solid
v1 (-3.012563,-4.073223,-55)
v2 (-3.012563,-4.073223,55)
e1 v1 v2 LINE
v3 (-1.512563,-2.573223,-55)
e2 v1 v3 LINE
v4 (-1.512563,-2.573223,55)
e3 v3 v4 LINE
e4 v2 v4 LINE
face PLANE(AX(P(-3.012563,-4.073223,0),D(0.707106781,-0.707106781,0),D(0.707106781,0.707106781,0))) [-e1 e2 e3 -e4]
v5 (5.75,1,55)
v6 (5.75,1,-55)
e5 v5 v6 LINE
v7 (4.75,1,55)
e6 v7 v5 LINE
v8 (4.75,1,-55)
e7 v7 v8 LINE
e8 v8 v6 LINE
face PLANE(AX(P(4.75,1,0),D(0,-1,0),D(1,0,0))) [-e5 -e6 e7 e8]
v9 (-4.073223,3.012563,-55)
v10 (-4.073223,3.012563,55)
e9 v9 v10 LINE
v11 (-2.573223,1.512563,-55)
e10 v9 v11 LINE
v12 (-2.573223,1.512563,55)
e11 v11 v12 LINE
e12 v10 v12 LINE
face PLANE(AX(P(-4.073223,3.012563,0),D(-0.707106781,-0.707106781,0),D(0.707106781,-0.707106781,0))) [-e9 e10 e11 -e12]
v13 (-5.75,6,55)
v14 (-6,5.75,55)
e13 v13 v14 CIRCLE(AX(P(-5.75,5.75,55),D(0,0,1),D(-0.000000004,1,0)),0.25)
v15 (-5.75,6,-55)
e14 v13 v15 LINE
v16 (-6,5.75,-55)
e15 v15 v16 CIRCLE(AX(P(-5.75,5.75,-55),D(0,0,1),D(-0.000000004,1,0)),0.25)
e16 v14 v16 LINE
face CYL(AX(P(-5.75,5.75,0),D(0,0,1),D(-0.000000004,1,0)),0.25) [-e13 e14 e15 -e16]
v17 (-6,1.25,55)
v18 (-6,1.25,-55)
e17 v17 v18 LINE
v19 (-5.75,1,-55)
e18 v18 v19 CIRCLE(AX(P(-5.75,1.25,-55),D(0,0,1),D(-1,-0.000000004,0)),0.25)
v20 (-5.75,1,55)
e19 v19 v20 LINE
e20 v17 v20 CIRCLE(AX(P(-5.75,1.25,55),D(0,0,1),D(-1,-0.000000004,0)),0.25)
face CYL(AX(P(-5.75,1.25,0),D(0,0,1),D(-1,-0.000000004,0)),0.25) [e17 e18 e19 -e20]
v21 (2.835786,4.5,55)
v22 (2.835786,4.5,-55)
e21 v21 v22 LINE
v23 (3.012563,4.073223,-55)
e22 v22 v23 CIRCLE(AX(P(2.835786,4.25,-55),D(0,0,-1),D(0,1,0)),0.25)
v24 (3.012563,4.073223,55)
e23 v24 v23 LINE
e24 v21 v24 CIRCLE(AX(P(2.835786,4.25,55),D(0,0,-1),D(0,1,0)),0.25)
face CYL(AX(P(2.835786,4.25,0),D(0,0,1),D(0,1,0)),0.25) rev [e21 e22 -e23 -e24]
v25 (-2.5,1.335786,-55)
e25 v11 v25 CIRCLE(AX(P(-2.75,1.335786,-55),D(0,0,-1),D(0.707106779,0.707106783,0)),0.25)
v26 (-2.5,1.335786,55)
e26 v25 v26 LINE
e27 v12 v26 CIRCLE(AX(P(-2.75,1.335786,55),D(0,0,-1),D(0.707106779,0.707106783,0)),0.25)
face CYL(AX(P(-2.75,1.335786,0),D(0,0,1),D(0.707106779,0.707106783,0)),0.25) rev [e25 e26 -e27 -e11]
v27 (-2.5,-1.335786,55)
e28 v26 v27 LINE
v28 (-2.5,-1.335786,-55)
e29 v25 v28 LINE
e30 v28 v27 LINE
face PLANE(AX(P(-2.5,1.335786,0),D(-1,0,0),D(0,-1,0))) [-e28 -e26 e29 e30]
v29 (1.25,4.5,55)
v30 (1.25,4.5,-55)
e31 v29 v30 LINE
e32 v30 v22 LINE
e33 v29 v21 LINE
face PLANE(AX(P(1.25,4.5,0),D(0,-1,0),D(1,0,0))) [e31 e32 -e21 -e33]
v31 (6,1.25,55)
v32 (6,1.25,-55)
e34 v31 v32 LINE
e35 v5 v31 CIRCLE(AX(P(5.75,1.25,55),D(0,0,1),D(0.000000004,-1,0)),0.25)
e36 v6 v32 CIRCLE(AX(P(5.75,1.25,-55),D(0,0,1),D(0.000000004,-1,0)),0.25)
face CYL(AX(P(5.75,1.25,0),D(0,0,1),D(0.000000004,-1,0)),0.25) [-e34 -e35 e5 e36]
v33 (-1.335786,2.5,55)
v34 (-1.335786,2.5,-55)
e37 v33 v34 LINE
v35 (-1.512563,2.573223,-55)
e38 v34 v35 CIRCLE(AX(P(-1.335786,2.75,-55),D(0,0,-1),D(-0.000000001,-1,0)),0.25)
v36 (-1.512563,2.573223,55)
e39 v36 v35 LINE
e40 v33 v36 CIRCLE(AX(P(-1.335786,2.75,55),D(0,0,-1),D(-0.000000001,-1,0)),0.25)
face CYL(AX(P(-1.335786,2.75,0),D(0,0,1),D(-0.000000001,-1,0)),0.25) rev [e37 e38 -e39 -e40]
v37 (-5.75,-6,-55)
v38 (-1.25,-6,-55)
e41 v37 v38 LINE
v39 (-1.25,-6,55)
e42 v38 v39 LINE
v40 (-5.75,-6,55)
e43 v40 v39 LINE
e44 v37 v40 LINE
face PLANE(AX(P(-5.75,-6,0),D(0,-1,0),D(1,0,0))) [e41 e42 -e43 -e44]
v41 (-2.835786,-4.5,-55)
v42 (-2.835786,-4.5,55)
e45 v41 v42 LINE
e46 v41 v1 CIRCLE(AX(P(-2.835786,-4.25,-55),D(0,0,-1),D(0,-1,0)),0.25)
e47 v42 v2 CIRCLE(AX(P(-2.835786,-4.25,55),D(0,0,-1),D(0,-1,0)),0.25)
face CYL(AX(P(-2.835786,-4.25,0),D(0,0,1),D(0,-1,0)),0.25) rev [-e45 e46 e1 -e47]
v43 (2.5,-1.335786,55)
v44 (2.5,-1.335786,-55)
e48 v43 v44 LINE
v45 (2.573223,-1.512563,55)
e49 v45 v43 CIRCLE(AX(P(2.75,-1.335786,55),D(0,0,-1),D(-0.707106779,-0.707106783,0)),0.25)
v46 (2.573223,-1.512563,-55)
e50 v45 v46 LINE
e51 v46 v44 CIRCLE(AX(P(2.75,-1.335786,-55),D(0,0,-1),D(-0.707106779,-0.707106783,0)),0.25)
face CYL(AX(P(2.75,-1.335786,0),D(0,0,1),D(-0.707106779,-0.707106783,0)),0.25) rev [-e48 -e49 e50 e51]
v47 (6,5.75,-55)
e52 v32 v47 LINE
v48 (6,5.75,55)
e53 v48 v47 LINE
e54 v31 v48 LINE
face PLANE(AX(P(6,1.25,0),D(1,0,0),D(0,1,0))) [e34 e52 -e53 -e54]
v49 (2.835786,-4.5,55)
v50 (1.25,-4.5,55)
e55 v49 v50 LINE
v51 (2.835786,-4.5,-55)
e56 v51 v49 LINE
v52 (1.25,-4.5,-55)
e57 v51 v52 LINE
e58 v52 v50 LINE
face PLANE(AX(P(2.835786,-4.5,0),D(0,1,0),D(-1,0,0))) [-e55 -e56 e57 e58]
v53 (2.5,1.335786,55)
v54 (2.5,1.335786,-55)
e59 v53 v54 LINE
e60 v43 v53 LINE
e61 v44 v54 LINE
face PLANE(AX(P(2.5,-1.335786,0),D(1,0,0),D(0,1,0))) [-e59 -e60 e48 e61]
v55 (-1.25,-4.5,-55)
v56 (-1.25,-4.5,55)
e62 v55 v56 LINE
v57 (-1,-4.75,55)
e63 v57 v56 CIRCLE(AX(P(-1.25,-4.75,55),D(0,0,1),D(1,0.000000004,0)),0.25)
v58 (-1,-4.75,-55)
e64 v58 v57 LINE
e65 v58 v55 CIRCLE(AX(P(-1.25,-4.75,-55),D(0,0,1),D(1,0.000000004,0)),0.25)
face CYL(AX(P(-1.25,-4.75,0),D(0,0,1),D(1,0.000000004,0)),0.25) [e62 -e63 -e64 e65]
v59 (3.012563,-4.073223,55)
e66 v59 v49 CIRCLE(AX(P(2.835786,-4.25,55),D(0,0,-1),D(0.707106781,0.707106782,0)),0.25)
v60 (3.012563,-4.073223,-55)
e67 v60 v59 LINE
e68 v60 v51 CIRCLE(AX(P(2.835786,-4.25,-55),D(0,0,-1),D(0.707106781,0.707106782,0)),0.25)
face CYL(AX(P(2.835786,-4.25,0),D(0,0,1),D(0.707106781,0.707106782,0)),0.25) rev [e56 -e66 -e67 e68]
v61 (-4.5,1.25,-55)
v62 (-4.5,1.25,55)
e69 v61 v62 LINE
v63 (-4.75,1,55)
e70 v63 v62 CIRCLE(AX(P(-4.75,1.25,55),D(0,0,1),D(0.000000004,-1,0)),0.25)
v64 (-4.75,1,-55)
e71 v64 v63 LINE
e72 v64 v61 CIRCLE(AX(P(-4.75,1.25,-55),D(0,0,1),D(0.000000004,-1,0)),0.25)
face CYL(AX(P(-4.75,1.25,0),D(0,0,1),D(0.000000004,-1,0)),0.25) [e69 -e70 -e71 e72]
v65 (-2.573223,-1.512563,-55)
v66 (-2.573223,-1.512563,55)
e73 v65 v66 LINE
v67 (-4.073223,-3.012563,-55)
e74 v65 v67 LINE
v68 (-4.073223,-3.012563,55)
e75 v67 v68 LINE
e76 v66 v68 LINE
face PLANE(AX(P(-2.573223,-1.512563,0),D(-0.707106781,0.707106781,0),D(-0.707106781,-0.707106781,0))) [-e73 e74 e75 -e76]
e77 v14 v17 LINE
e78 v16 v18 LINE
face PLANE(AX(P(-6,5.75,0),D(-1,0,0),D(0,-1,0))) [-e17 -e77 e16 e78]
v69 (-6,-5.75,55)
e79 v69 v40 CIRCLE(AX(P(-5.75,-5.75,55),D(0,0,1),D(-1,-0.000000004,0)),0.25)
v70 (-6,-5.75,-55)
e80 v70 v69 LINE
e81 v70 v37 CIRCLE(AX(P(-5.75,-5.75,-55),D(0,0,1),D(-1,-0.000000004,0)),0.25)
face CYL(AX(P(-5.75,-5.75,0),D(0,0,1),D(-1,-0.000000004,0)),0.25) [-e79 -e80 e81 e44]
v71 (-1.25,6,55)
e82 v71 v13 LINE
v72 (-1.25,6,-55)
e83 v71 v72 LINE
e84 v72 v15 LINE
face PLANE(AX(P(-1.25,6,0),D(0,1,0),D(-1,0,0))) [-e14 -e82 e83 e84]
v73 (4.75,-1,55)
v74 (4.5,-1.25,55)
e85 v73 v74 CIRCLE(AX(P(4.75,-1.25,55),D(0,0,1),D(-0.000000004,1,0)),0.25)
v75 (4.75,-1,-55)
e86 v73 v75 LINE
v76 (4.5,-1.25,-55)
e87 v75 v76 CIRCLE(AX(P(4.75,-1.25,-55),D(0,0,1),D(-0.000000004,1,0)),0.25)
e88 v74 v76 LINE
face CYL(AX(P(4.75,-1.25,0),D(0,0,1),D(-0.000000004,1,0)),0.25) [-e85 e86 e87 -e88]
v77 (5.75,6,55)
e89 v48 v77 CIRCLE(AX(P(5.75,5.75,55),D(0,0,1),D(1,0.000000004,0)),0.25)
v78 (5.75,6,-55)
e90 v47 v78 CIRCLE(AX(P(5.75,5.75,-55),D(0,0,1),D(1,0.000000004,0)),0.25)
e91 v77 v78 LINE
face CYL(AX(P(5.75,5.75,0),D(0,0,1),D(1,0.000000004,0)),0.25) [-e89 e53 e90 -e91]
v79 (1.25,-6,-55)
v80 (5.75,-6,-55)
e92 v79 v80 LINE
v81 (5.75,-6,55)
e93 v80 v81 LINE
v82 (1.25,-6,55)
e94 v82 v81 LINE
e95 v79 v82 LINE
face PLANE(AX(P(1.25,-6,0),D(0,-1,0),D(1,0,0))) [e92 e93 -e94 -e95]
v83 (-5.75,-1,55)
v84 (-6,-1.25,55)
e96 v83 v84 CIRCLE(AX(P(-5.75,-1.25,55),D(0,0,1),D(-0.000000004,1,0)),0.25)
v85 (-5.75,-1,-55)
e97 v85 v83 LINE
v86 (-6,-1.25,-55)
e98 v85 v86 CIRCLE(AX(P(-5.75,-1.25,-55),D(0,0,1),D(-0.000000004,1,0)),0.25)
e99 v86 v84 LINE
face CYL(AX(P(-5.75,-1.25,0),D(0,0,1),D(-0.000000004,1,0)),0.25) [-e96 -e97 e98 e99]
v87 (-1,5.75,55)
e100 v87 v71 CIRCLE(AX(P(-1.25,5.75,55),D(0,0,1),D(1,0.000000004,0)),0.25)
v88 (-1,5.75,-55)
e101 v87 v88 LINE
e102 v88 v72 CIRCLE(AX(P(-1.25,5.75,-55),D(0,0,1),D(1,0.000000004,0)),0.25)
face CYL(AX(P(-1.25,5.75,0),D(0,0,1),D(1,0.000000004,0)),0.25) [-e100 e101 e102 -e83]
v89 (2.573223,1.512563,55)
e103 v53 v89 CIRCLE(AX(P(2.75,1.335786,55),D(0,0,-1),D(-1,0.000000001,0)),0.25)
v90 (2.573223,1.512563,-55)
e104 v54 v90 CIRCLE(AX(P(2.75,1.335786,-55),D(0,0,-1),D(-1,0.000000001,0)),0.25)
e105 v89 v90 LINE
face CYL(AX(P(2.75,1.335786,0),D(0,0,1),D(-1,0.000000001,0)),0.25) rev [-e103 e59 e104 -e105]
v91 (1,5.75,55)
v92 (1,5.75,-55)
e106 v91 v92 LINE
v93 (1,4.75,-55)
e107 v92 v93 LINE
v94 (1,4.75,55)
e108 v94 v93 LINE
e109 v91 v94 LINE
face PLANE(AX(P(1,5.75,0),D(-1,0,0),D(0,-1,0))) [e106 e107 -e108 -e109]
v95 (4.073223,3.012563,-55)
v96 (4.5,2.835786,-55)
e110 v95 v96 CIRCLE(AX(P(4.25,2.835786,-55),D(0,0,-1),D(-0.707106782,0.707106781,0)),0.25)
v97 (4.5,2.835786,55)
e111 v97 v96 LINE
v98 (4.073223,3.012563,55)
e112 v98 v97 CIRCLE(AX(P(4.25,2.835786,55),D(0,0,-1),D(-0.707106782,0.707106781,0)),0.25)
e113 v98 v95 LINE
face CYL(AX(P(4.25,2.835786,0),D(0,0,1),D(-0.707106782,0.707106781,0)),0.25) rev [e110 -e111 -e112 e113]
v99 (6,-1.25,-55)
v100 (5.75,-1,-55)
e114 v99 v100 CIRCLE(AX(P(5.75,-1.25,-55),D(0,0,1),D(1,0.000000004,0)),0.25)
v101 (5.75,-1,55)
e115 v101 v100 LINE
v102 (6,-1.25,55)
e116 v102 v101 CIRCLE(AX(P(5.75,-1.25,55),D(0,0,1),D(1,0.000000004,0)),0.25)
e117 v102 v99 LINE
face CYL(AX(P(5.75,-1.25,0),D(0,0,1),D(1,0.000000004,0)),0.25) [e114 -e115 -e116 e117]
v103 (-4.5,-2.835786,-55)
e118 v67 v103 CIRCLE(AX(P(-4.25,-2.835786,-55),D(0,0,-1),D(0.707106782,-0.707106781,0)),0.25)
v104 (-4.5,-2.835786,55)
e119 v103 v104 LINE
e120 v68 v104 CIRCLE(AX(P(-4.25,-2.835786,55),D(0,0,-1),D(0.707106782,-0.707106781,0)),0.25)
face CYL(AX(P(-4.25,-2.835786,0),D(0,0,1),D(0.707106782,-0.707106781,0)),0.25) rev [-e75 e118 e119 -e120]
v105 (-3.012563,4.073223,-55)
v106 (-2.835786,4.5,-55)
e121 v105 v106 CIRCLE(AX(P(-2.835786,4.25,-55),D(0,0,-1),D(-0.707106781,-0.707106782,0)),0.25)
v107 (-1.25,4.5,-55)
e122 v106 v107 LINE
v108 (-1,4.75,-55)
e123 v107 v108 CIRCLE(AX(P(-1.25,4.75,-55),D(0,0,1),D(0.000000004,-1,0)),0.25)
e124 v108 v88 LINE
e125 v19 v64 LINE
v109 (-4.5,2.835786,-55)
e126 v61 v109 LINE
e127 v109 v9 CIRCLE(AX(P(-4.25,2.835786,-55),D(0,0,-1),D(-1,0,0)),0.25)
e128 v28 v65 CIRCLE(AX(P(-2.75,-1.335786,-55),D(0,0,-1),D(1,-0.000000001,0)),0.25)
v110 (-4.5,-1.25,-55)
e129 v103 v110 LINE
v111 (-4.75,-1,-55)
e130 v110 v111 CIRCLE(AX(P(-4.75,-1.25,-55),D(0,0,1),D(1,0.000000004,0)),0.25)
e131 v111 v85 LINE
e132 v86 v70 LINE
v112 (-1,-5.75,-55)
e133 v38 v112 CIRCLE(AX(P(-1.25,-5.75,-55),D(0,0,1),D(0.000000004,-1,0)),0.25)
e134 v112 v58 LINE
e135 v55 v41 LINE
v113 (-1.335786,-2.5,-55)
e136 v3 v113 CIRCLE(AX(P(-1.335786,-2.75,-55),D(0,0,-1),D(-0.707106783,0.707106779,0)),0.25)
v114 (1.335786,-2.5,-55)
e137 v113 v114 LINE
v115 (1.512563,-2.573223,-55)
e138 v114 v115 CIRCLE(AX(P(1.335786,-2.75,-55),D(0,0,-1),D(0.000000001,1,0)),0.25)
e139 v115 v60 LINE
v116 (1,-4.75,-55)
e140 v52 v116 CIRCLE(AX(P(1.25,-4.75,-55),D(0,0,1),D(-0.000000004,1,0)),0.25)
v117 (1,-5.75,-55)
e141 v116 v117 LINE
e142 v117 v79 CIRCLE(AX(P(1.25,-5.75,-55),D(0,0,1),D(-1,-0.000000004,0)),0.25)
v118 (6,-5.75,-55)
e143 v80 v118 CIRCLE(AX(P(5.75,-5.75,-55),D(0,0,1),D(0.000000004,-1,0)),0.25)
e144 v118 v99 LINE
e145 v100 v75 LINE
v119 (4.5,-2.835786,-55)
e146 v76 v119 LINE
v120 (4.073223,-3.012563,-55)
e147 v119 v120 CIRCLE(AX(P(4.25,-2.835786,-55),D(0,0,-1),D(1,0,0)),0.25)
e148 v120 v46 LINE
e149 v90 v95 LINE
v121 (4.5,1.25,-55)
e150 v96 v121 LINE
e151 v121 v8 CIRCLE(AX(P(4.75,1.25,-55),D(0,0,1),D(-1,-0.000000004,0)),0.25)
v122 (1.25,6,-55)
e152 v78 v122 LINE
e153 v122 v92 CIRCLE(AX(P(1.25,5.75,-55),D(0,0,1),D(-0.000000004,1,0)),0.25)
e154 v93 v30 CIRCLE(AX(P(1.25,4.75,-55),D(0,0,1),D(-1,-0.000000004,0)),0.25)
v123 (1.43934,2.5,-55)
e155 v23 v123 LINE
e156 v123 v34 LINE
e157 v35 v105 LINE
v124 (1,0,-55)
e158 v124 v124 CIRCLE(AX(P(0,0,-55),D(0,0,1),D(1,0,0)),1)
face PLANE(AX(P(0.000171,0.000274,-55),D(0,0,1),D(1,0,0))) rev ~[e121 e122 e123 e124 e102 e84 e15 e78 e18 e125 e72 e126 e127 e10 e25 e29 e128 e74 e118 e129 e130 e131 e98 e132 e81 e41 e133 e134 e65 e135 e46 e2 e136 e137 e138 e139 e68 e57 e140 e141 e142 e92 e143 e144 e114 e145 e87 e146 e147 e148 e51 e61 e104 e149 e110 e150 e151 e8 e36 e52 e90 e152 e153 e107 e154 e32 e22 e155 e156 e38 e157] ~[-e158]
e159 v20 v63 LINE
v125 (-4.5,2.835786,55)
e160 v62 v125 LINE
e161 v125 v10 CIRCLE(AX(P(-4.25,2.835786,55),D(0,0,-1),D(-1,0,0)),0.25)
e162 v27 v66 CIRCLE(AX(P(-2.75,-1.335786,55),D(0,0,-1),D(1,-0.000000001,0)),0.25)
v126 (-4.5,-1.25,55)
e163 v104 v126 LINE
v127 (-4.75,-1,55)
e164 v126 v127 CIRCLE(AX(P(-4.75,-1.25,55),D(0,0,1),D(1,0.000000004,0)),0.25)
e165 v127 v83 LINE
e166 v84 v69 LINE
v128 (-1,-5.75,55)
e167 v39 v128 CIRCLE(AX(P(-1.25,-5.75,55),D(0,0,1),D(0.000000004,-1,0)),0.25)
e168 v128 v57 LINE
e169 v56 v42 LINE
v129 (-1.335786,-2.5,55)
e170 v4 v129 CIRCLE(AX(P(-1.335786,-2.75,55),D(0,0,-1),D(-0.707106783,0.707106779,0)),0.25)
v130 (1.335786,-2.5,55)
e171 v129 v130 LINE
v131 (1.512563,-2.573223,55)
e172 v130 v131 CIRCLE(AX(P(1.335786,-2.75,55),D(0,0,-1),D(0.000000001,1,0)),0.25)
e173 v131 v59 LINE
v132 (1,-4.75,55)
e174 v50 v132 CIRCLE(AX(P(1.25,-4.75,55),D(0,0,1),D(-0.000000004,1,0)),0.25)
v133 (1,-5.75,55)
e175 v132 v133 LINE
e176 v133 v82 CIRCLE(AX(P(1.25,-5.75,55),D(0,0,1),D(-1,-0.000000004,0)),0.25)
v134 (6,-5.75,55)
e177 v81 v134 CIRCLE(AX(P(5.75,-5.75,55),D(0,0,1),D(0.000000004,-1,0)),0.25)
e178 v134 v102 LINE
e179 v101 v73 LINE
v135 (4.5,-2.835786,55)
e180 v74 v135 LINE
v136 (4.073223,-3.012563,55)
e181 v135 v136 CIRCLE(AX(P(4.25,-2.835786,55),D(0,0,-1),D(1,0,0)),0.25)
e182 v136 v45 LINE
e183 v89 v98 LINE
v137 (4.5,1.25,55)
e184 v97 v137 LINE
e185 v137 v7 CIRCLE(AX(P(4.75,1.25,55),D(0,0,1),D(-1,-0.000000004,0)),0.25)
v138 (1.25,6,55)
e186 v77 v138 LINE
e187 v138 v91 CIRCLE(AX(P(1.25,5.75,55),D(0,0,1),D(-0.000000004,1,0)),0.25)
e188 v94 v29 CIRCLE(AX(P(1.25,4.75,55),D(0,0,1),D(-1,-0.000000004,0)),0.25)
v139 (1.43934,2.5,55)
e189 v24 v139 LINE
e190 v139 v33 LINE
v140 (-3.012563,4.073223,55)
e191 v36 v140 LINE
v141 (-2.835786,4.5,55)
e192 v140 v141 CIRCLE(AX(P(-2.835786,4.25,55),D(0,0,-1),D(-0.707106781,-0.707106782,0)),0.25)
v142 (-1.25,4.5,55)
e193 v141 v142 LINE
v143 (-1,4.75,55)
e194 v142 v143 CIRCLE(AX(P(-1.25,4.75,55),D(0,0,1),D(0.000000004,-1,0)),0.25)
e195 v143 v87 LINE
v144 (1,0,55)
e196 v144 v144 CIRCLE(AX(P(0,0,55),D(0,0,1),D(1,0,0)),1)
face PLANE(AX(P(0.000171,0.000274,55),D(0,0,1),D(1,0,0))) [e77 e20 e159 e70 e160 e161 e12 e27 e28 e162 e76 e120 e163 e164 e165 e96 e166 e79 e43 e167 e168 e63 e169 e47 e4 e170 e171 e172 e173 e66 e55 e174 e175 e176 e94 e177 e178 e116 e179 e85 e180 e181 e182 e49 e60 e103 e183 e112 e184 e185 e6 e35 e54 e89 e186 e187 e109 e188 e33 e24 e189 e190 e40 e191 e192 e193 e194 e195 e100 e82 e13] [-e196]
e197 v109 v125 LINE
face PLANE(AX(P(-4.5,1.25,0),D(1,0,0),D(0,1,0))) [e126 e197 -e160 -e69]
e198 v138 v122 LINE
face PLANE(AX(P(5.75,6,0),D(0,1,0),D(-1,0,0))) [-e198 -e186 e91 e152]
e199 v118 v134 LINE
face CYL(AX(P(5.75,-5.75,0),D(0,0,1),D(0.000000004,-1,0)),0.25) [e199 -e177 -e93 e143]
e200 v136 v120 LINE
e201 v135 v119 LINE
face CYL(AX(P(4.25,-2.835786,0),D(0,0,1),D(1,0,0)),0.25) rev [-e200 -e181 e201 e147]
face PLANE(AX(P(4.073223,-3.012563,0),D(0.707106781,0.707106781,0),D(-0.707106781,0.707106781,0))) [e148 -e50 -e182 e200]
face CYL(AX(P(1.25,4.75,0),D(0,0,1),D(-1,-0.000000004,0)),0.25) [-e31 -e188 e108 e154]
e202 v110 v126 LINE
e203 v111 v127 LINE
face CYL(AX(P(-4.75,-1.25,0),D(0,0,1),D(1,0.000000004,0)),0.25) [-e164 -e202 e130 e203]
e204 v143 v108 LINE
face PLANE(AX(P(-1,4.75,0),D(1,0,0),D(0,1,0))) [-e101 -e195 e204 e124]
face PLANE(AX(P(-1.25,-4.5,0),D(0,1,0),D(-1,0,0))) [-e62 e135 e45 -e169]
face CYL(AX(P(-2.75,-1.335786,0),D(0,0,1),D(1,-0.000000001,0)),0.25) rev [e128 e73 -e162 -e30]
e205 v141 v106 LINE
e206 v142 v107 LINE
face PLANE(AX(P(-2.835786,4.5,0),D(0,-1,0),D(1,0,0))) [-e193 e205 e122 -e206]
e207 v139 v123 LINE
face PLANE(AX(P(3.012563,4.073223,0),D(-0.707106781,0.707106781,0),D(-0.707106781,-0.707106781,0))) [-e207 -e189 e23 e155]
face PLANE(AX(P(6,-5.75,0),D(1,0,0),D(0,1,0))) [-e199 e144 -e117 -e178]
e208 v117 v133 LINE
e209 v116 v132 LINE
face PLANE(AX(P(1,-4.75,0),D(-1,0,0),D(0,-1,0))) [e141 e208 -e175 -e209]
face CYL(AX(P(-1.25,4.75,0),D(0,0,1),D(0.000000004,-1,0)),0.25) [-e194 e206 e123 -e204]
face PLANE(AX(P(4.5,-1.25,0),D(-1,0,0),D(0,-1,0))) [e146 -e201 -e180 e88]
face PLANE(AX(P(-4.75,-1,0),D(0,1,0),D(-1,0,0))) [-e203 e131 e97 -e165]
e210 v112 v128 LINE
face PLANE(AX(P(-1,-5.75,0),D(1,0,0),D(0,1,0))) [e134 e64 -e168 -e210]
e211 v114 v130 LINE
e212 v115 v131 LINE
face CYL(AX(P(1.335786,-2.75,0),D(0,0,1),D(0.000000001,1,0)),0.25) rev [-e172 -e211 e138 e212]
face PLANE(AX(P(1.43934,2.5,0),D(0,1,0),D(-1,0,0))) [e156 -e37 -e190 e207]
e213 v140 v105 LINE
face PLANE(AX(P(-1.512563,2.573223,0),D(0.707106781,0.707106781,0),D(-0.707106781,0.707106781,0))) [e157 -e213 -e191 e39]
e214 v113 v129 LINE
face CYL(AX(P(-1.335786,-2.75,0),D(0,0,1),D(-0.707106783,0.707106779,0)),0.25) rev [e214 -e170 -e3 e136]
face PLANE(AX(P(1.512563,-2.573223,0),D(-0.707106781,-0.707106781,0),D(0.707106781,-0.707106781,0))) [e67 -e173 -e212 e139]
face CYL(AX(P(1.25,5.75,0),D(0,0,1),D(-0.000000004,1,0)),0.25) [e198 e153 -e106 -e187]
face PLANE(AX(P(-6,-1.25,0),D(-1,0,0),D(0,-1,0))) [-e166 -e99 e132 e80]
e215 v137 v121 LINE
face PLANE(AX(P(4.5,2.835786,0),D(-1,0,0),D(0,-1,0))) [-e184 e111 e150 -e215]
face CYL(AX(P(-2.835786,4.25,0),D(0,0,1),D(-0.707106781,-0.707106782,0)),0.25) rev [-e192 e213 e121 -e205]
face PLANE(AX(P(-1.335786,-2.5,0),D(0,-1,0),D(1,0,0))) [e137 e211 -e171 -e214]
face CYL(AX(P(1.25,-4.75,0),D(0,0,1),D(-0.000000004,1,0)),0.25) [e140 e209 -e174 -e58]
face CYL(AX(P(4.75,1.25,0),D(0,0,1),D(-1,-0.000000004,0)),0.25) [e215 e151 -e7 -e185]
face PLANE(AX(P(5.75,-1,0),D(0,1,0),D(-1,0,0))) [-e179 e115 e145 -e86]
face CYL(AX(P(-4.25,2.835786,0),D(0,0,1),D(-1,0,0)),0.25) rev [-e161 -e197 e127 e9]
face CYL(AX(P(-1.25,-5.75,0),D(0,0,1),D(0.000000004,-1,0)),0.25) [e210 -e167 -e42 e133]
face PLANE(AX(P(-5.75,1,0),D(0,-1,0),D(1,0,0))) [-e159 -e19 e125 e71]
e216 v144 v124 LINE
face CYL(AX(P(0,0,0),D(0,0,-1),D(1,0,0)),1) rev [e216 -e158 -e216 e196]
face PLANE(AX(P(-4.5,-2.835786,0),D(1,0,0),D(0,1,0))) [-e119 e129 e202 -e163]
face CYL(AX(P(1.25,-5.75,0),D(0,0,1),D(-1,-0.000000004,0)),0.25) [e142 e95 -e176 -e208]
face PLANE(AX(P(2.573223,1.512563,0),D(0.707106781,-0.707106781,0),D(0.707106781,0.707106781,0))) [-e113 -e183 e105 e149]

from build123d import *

# Parameters (mm, degrees)
SKETCH1_R           = 1
BOSS_EXTRUDE1_DEPTH = 55


with BuildPart() as part:
    # Sketch1 → Boss-Extrude1 (new body, symmetric)
    with BuildSketch(Plane.XY):
        with BuildLine():
            ThreePointArc((-6, 1.25), (-5.926776695, 1.073223305), (-5.75, 1))
            Line((-5.75, 1), (-4.75, 1))
            ThreePointArc((-4.75, 1), (-4.573223305, 1.073223305), (-4.5, 1.25))
            Line((-4.5, 1.25), (-4.5, 2.835786438))
            ThreePointArc((-4.5, 2.835786438), (-4.345670858, 3.066756321), (-4.073223305, 3.012563133))
            Line((-4.073223305, 3.012563133), (-2.573223305, 1.512563133))
            ThreePointArc((-2.573223305, 1.512563133), (-2.519030117, 1.431457296), (-2.5, 1.335786438))
            Line((-2.5, 1.335786438), (-2.5, -1.335786438))
            ThreePointArc((-2.5, -1.335786438), (-2.519030117, -1.431457296), (-2.573223305, -1.512563133))
            Line((-2.573223305, -1.512563133), (-4.073223305, -3.012563133))
            ThreePointArc((-4.073223305, -3.012563133), (-4.345670858, -3.066756321), (-4.5, -2.835786438))
            Line((-4.5, -2.835786438), (-4.5, -1.25))
            ThreePointArc((-4.5, -1.25), (-4.573223305, -1.073223305), (-4.75, -1))
            Line((-4.75, -1), (-5.75, -1))
            ThreePointArc((-5.75, -1), (-5.926776695, -1.073223305), (-6, -1.25))
            Line((-6, -1.25), (-6, -5.75))
            ThreePointArc((-6, -5.75), (-5.926776695, -5.926776695), (-5.75, -6))
            Line((-5.75, -6), (-1.25, -6))
            ThreePointArc((-1.25, -6), (-1.073223305, -5.926776695), (-1, -5.75))
            Line((-1, -5.75), (-1, -4.75))
            ThreePointArc((-1, -4.75), (-1.073223305, -4.573223305), (-1.25, -4.5))
            Line((-1.25, -4.5), (-2.835786438, -4.5))
            ThreePointArc((-2.835786438, -4.5), (-3.066756321, -4.345670858), (-3.012563133, -4.073223305))
            Line((-3.012563133, -4.073223305), (-1.512563133, -2.573223305))
            ThreePointArc((-1.512563133, -2.573223305), (-1.431457296, -2.519030117), (-1.335786438, -2.5))
            Line((-1.335786438, -2.5), (1.335786438, -2.5))
            ThreePointArc((1.335786438, -2.5), (1.431457296, -2.519030117), (1.512563133, -2.573223305))
            Line((1.512563133, -2.573223305), (3.012563133, -4.073223305))
            ThreePointArc((3.012563133, -4.073223305), (3.066756321, -4.345670858), (2.835786438, -4.5))
            Line((2.835786438, -4.5), (1.25, -4.5))
            ThreePointArc((1.25, -4.5), (1.073223305, -4.573223305), (1, -4.75))
            Line((1, -4.75), (1, -5.75))
            ThreePointArc((1, -5.75), (1.073223305, -5.926776695), (1.25, -6))
            Line((1.25, -6), (5.75, -6))
            ThreePointArc((5.75, -6), (5.926776695, -5.926776695), (6, -5.75))
            Line((6, -5.75), (6, -1.25))
            ThreePointArc((6, -1.25), (5.926776695, -1.073223305), (5.75, -1))
            Line((5.75, -1), (4.75, -1))
            ThreePointArc((4.75, -1), (4.573223305, -1.073223305), (4.5, -1.25))
            Line((4.5, -1.25), (4.5, -2.835786438))
            ThreePointArc((4.5, -2.835786438), (4.345670858, -3.066756321), (4.073223305, -3.012563133))
            Line((4.073223305, -3.012563133), (2.573223305, -1.512563133))
            ThreePointArc((2.573223305, -1.512563133), (2.519030117, -1.431457296), (2.5, -1.335786438))
            Line((2.5, -1.335786438), (2.5, 1.335786438))
            ThreePointArc((2.5, 1.335786438), (2.519030117, 1.431457296), (2.573223305, 1.512563133))
            Line((2.573223305, 1.512563133), (4.073223305, 3.012563133))
            ThreePointArc((4.073223305, 3.012563133), (4.345670858, 3.066756321), (4.5, 2.835786438))
            Line((4.5, 2.835786438), (4.5, 1.25))
            ThreePointArc((4.5, 1.25), (4.573223305, 1.073223305), (4.75, 1))
            Line((4.75, 1), (5.75, 1))
            ThreePointArc((5.75, 1), (5.926776695, 1.073223305), (6, 1.25))
            Line((6, 1.25), (6, 5.75))
            ThreePointArc((6, 5.75), (5.926776695, 5.926776695), (5.75, 6))
            Line((5.75, 6), (1.25, 6))
            ThreePointArc((1.25, 6), (1.073223305, 5.926776695), (1, 5.75))
            Line((1, 5.75), (1, 4.75))
            ThreePointArc((1, 4.75), (1.073223305, 4.573223305), (1.25, 4.5))
            Line((1.25, 4.5), (2.835786438, 4.5))
            ThreePointArc((2.835786438, 4.5), (3.066756321, 4.345670858), (3.012563133, 4.073223305))
            Line((3.012563133, 4.073223305), (1.439339828, 2.5))
            Line((1.439339828, 2.5), (-1.335786438, 2.5))
            ThreePointArc((-1.335786438, 2.5), (-1.431457296, 2.519030117), (-1.512563133, 2.573223305))
            Line((-1.512563133, 2.573223305), (-3.012563133, 4.073223305))
            ThreePointArc((-3.012563133, 4.073223305), (-3.066756321, 4.345670858), (-2.835786438, 4.5))
            Line((-2.835786438, 4.5), (-1.25, 4.5))
            ThreePointArc((-1.25, 4.5), (-1.073223305, 4.573223305), (-1, 4.75))
            Line((-1, 4.75), (-1, 5.75))
            ThreePointArc((-1, 5.75), (-1.073223305, 5.926776695), (-1.25, 6))
            Line((-1.25, 6), (-5.75, 6))
            ThreePointArc((-5.75, 6), (-5.926776695, 5.926776695), (-6, 5.75))
            Line((-6, 5.75), (-6, 1.25))
        make_face()
        Circle(SKETCH1_R, mode=Mode.SUBTRACT)
    extrude(amount=BOSS_EXTRUDE1_DEPTH, both=True)


solid = part.part
